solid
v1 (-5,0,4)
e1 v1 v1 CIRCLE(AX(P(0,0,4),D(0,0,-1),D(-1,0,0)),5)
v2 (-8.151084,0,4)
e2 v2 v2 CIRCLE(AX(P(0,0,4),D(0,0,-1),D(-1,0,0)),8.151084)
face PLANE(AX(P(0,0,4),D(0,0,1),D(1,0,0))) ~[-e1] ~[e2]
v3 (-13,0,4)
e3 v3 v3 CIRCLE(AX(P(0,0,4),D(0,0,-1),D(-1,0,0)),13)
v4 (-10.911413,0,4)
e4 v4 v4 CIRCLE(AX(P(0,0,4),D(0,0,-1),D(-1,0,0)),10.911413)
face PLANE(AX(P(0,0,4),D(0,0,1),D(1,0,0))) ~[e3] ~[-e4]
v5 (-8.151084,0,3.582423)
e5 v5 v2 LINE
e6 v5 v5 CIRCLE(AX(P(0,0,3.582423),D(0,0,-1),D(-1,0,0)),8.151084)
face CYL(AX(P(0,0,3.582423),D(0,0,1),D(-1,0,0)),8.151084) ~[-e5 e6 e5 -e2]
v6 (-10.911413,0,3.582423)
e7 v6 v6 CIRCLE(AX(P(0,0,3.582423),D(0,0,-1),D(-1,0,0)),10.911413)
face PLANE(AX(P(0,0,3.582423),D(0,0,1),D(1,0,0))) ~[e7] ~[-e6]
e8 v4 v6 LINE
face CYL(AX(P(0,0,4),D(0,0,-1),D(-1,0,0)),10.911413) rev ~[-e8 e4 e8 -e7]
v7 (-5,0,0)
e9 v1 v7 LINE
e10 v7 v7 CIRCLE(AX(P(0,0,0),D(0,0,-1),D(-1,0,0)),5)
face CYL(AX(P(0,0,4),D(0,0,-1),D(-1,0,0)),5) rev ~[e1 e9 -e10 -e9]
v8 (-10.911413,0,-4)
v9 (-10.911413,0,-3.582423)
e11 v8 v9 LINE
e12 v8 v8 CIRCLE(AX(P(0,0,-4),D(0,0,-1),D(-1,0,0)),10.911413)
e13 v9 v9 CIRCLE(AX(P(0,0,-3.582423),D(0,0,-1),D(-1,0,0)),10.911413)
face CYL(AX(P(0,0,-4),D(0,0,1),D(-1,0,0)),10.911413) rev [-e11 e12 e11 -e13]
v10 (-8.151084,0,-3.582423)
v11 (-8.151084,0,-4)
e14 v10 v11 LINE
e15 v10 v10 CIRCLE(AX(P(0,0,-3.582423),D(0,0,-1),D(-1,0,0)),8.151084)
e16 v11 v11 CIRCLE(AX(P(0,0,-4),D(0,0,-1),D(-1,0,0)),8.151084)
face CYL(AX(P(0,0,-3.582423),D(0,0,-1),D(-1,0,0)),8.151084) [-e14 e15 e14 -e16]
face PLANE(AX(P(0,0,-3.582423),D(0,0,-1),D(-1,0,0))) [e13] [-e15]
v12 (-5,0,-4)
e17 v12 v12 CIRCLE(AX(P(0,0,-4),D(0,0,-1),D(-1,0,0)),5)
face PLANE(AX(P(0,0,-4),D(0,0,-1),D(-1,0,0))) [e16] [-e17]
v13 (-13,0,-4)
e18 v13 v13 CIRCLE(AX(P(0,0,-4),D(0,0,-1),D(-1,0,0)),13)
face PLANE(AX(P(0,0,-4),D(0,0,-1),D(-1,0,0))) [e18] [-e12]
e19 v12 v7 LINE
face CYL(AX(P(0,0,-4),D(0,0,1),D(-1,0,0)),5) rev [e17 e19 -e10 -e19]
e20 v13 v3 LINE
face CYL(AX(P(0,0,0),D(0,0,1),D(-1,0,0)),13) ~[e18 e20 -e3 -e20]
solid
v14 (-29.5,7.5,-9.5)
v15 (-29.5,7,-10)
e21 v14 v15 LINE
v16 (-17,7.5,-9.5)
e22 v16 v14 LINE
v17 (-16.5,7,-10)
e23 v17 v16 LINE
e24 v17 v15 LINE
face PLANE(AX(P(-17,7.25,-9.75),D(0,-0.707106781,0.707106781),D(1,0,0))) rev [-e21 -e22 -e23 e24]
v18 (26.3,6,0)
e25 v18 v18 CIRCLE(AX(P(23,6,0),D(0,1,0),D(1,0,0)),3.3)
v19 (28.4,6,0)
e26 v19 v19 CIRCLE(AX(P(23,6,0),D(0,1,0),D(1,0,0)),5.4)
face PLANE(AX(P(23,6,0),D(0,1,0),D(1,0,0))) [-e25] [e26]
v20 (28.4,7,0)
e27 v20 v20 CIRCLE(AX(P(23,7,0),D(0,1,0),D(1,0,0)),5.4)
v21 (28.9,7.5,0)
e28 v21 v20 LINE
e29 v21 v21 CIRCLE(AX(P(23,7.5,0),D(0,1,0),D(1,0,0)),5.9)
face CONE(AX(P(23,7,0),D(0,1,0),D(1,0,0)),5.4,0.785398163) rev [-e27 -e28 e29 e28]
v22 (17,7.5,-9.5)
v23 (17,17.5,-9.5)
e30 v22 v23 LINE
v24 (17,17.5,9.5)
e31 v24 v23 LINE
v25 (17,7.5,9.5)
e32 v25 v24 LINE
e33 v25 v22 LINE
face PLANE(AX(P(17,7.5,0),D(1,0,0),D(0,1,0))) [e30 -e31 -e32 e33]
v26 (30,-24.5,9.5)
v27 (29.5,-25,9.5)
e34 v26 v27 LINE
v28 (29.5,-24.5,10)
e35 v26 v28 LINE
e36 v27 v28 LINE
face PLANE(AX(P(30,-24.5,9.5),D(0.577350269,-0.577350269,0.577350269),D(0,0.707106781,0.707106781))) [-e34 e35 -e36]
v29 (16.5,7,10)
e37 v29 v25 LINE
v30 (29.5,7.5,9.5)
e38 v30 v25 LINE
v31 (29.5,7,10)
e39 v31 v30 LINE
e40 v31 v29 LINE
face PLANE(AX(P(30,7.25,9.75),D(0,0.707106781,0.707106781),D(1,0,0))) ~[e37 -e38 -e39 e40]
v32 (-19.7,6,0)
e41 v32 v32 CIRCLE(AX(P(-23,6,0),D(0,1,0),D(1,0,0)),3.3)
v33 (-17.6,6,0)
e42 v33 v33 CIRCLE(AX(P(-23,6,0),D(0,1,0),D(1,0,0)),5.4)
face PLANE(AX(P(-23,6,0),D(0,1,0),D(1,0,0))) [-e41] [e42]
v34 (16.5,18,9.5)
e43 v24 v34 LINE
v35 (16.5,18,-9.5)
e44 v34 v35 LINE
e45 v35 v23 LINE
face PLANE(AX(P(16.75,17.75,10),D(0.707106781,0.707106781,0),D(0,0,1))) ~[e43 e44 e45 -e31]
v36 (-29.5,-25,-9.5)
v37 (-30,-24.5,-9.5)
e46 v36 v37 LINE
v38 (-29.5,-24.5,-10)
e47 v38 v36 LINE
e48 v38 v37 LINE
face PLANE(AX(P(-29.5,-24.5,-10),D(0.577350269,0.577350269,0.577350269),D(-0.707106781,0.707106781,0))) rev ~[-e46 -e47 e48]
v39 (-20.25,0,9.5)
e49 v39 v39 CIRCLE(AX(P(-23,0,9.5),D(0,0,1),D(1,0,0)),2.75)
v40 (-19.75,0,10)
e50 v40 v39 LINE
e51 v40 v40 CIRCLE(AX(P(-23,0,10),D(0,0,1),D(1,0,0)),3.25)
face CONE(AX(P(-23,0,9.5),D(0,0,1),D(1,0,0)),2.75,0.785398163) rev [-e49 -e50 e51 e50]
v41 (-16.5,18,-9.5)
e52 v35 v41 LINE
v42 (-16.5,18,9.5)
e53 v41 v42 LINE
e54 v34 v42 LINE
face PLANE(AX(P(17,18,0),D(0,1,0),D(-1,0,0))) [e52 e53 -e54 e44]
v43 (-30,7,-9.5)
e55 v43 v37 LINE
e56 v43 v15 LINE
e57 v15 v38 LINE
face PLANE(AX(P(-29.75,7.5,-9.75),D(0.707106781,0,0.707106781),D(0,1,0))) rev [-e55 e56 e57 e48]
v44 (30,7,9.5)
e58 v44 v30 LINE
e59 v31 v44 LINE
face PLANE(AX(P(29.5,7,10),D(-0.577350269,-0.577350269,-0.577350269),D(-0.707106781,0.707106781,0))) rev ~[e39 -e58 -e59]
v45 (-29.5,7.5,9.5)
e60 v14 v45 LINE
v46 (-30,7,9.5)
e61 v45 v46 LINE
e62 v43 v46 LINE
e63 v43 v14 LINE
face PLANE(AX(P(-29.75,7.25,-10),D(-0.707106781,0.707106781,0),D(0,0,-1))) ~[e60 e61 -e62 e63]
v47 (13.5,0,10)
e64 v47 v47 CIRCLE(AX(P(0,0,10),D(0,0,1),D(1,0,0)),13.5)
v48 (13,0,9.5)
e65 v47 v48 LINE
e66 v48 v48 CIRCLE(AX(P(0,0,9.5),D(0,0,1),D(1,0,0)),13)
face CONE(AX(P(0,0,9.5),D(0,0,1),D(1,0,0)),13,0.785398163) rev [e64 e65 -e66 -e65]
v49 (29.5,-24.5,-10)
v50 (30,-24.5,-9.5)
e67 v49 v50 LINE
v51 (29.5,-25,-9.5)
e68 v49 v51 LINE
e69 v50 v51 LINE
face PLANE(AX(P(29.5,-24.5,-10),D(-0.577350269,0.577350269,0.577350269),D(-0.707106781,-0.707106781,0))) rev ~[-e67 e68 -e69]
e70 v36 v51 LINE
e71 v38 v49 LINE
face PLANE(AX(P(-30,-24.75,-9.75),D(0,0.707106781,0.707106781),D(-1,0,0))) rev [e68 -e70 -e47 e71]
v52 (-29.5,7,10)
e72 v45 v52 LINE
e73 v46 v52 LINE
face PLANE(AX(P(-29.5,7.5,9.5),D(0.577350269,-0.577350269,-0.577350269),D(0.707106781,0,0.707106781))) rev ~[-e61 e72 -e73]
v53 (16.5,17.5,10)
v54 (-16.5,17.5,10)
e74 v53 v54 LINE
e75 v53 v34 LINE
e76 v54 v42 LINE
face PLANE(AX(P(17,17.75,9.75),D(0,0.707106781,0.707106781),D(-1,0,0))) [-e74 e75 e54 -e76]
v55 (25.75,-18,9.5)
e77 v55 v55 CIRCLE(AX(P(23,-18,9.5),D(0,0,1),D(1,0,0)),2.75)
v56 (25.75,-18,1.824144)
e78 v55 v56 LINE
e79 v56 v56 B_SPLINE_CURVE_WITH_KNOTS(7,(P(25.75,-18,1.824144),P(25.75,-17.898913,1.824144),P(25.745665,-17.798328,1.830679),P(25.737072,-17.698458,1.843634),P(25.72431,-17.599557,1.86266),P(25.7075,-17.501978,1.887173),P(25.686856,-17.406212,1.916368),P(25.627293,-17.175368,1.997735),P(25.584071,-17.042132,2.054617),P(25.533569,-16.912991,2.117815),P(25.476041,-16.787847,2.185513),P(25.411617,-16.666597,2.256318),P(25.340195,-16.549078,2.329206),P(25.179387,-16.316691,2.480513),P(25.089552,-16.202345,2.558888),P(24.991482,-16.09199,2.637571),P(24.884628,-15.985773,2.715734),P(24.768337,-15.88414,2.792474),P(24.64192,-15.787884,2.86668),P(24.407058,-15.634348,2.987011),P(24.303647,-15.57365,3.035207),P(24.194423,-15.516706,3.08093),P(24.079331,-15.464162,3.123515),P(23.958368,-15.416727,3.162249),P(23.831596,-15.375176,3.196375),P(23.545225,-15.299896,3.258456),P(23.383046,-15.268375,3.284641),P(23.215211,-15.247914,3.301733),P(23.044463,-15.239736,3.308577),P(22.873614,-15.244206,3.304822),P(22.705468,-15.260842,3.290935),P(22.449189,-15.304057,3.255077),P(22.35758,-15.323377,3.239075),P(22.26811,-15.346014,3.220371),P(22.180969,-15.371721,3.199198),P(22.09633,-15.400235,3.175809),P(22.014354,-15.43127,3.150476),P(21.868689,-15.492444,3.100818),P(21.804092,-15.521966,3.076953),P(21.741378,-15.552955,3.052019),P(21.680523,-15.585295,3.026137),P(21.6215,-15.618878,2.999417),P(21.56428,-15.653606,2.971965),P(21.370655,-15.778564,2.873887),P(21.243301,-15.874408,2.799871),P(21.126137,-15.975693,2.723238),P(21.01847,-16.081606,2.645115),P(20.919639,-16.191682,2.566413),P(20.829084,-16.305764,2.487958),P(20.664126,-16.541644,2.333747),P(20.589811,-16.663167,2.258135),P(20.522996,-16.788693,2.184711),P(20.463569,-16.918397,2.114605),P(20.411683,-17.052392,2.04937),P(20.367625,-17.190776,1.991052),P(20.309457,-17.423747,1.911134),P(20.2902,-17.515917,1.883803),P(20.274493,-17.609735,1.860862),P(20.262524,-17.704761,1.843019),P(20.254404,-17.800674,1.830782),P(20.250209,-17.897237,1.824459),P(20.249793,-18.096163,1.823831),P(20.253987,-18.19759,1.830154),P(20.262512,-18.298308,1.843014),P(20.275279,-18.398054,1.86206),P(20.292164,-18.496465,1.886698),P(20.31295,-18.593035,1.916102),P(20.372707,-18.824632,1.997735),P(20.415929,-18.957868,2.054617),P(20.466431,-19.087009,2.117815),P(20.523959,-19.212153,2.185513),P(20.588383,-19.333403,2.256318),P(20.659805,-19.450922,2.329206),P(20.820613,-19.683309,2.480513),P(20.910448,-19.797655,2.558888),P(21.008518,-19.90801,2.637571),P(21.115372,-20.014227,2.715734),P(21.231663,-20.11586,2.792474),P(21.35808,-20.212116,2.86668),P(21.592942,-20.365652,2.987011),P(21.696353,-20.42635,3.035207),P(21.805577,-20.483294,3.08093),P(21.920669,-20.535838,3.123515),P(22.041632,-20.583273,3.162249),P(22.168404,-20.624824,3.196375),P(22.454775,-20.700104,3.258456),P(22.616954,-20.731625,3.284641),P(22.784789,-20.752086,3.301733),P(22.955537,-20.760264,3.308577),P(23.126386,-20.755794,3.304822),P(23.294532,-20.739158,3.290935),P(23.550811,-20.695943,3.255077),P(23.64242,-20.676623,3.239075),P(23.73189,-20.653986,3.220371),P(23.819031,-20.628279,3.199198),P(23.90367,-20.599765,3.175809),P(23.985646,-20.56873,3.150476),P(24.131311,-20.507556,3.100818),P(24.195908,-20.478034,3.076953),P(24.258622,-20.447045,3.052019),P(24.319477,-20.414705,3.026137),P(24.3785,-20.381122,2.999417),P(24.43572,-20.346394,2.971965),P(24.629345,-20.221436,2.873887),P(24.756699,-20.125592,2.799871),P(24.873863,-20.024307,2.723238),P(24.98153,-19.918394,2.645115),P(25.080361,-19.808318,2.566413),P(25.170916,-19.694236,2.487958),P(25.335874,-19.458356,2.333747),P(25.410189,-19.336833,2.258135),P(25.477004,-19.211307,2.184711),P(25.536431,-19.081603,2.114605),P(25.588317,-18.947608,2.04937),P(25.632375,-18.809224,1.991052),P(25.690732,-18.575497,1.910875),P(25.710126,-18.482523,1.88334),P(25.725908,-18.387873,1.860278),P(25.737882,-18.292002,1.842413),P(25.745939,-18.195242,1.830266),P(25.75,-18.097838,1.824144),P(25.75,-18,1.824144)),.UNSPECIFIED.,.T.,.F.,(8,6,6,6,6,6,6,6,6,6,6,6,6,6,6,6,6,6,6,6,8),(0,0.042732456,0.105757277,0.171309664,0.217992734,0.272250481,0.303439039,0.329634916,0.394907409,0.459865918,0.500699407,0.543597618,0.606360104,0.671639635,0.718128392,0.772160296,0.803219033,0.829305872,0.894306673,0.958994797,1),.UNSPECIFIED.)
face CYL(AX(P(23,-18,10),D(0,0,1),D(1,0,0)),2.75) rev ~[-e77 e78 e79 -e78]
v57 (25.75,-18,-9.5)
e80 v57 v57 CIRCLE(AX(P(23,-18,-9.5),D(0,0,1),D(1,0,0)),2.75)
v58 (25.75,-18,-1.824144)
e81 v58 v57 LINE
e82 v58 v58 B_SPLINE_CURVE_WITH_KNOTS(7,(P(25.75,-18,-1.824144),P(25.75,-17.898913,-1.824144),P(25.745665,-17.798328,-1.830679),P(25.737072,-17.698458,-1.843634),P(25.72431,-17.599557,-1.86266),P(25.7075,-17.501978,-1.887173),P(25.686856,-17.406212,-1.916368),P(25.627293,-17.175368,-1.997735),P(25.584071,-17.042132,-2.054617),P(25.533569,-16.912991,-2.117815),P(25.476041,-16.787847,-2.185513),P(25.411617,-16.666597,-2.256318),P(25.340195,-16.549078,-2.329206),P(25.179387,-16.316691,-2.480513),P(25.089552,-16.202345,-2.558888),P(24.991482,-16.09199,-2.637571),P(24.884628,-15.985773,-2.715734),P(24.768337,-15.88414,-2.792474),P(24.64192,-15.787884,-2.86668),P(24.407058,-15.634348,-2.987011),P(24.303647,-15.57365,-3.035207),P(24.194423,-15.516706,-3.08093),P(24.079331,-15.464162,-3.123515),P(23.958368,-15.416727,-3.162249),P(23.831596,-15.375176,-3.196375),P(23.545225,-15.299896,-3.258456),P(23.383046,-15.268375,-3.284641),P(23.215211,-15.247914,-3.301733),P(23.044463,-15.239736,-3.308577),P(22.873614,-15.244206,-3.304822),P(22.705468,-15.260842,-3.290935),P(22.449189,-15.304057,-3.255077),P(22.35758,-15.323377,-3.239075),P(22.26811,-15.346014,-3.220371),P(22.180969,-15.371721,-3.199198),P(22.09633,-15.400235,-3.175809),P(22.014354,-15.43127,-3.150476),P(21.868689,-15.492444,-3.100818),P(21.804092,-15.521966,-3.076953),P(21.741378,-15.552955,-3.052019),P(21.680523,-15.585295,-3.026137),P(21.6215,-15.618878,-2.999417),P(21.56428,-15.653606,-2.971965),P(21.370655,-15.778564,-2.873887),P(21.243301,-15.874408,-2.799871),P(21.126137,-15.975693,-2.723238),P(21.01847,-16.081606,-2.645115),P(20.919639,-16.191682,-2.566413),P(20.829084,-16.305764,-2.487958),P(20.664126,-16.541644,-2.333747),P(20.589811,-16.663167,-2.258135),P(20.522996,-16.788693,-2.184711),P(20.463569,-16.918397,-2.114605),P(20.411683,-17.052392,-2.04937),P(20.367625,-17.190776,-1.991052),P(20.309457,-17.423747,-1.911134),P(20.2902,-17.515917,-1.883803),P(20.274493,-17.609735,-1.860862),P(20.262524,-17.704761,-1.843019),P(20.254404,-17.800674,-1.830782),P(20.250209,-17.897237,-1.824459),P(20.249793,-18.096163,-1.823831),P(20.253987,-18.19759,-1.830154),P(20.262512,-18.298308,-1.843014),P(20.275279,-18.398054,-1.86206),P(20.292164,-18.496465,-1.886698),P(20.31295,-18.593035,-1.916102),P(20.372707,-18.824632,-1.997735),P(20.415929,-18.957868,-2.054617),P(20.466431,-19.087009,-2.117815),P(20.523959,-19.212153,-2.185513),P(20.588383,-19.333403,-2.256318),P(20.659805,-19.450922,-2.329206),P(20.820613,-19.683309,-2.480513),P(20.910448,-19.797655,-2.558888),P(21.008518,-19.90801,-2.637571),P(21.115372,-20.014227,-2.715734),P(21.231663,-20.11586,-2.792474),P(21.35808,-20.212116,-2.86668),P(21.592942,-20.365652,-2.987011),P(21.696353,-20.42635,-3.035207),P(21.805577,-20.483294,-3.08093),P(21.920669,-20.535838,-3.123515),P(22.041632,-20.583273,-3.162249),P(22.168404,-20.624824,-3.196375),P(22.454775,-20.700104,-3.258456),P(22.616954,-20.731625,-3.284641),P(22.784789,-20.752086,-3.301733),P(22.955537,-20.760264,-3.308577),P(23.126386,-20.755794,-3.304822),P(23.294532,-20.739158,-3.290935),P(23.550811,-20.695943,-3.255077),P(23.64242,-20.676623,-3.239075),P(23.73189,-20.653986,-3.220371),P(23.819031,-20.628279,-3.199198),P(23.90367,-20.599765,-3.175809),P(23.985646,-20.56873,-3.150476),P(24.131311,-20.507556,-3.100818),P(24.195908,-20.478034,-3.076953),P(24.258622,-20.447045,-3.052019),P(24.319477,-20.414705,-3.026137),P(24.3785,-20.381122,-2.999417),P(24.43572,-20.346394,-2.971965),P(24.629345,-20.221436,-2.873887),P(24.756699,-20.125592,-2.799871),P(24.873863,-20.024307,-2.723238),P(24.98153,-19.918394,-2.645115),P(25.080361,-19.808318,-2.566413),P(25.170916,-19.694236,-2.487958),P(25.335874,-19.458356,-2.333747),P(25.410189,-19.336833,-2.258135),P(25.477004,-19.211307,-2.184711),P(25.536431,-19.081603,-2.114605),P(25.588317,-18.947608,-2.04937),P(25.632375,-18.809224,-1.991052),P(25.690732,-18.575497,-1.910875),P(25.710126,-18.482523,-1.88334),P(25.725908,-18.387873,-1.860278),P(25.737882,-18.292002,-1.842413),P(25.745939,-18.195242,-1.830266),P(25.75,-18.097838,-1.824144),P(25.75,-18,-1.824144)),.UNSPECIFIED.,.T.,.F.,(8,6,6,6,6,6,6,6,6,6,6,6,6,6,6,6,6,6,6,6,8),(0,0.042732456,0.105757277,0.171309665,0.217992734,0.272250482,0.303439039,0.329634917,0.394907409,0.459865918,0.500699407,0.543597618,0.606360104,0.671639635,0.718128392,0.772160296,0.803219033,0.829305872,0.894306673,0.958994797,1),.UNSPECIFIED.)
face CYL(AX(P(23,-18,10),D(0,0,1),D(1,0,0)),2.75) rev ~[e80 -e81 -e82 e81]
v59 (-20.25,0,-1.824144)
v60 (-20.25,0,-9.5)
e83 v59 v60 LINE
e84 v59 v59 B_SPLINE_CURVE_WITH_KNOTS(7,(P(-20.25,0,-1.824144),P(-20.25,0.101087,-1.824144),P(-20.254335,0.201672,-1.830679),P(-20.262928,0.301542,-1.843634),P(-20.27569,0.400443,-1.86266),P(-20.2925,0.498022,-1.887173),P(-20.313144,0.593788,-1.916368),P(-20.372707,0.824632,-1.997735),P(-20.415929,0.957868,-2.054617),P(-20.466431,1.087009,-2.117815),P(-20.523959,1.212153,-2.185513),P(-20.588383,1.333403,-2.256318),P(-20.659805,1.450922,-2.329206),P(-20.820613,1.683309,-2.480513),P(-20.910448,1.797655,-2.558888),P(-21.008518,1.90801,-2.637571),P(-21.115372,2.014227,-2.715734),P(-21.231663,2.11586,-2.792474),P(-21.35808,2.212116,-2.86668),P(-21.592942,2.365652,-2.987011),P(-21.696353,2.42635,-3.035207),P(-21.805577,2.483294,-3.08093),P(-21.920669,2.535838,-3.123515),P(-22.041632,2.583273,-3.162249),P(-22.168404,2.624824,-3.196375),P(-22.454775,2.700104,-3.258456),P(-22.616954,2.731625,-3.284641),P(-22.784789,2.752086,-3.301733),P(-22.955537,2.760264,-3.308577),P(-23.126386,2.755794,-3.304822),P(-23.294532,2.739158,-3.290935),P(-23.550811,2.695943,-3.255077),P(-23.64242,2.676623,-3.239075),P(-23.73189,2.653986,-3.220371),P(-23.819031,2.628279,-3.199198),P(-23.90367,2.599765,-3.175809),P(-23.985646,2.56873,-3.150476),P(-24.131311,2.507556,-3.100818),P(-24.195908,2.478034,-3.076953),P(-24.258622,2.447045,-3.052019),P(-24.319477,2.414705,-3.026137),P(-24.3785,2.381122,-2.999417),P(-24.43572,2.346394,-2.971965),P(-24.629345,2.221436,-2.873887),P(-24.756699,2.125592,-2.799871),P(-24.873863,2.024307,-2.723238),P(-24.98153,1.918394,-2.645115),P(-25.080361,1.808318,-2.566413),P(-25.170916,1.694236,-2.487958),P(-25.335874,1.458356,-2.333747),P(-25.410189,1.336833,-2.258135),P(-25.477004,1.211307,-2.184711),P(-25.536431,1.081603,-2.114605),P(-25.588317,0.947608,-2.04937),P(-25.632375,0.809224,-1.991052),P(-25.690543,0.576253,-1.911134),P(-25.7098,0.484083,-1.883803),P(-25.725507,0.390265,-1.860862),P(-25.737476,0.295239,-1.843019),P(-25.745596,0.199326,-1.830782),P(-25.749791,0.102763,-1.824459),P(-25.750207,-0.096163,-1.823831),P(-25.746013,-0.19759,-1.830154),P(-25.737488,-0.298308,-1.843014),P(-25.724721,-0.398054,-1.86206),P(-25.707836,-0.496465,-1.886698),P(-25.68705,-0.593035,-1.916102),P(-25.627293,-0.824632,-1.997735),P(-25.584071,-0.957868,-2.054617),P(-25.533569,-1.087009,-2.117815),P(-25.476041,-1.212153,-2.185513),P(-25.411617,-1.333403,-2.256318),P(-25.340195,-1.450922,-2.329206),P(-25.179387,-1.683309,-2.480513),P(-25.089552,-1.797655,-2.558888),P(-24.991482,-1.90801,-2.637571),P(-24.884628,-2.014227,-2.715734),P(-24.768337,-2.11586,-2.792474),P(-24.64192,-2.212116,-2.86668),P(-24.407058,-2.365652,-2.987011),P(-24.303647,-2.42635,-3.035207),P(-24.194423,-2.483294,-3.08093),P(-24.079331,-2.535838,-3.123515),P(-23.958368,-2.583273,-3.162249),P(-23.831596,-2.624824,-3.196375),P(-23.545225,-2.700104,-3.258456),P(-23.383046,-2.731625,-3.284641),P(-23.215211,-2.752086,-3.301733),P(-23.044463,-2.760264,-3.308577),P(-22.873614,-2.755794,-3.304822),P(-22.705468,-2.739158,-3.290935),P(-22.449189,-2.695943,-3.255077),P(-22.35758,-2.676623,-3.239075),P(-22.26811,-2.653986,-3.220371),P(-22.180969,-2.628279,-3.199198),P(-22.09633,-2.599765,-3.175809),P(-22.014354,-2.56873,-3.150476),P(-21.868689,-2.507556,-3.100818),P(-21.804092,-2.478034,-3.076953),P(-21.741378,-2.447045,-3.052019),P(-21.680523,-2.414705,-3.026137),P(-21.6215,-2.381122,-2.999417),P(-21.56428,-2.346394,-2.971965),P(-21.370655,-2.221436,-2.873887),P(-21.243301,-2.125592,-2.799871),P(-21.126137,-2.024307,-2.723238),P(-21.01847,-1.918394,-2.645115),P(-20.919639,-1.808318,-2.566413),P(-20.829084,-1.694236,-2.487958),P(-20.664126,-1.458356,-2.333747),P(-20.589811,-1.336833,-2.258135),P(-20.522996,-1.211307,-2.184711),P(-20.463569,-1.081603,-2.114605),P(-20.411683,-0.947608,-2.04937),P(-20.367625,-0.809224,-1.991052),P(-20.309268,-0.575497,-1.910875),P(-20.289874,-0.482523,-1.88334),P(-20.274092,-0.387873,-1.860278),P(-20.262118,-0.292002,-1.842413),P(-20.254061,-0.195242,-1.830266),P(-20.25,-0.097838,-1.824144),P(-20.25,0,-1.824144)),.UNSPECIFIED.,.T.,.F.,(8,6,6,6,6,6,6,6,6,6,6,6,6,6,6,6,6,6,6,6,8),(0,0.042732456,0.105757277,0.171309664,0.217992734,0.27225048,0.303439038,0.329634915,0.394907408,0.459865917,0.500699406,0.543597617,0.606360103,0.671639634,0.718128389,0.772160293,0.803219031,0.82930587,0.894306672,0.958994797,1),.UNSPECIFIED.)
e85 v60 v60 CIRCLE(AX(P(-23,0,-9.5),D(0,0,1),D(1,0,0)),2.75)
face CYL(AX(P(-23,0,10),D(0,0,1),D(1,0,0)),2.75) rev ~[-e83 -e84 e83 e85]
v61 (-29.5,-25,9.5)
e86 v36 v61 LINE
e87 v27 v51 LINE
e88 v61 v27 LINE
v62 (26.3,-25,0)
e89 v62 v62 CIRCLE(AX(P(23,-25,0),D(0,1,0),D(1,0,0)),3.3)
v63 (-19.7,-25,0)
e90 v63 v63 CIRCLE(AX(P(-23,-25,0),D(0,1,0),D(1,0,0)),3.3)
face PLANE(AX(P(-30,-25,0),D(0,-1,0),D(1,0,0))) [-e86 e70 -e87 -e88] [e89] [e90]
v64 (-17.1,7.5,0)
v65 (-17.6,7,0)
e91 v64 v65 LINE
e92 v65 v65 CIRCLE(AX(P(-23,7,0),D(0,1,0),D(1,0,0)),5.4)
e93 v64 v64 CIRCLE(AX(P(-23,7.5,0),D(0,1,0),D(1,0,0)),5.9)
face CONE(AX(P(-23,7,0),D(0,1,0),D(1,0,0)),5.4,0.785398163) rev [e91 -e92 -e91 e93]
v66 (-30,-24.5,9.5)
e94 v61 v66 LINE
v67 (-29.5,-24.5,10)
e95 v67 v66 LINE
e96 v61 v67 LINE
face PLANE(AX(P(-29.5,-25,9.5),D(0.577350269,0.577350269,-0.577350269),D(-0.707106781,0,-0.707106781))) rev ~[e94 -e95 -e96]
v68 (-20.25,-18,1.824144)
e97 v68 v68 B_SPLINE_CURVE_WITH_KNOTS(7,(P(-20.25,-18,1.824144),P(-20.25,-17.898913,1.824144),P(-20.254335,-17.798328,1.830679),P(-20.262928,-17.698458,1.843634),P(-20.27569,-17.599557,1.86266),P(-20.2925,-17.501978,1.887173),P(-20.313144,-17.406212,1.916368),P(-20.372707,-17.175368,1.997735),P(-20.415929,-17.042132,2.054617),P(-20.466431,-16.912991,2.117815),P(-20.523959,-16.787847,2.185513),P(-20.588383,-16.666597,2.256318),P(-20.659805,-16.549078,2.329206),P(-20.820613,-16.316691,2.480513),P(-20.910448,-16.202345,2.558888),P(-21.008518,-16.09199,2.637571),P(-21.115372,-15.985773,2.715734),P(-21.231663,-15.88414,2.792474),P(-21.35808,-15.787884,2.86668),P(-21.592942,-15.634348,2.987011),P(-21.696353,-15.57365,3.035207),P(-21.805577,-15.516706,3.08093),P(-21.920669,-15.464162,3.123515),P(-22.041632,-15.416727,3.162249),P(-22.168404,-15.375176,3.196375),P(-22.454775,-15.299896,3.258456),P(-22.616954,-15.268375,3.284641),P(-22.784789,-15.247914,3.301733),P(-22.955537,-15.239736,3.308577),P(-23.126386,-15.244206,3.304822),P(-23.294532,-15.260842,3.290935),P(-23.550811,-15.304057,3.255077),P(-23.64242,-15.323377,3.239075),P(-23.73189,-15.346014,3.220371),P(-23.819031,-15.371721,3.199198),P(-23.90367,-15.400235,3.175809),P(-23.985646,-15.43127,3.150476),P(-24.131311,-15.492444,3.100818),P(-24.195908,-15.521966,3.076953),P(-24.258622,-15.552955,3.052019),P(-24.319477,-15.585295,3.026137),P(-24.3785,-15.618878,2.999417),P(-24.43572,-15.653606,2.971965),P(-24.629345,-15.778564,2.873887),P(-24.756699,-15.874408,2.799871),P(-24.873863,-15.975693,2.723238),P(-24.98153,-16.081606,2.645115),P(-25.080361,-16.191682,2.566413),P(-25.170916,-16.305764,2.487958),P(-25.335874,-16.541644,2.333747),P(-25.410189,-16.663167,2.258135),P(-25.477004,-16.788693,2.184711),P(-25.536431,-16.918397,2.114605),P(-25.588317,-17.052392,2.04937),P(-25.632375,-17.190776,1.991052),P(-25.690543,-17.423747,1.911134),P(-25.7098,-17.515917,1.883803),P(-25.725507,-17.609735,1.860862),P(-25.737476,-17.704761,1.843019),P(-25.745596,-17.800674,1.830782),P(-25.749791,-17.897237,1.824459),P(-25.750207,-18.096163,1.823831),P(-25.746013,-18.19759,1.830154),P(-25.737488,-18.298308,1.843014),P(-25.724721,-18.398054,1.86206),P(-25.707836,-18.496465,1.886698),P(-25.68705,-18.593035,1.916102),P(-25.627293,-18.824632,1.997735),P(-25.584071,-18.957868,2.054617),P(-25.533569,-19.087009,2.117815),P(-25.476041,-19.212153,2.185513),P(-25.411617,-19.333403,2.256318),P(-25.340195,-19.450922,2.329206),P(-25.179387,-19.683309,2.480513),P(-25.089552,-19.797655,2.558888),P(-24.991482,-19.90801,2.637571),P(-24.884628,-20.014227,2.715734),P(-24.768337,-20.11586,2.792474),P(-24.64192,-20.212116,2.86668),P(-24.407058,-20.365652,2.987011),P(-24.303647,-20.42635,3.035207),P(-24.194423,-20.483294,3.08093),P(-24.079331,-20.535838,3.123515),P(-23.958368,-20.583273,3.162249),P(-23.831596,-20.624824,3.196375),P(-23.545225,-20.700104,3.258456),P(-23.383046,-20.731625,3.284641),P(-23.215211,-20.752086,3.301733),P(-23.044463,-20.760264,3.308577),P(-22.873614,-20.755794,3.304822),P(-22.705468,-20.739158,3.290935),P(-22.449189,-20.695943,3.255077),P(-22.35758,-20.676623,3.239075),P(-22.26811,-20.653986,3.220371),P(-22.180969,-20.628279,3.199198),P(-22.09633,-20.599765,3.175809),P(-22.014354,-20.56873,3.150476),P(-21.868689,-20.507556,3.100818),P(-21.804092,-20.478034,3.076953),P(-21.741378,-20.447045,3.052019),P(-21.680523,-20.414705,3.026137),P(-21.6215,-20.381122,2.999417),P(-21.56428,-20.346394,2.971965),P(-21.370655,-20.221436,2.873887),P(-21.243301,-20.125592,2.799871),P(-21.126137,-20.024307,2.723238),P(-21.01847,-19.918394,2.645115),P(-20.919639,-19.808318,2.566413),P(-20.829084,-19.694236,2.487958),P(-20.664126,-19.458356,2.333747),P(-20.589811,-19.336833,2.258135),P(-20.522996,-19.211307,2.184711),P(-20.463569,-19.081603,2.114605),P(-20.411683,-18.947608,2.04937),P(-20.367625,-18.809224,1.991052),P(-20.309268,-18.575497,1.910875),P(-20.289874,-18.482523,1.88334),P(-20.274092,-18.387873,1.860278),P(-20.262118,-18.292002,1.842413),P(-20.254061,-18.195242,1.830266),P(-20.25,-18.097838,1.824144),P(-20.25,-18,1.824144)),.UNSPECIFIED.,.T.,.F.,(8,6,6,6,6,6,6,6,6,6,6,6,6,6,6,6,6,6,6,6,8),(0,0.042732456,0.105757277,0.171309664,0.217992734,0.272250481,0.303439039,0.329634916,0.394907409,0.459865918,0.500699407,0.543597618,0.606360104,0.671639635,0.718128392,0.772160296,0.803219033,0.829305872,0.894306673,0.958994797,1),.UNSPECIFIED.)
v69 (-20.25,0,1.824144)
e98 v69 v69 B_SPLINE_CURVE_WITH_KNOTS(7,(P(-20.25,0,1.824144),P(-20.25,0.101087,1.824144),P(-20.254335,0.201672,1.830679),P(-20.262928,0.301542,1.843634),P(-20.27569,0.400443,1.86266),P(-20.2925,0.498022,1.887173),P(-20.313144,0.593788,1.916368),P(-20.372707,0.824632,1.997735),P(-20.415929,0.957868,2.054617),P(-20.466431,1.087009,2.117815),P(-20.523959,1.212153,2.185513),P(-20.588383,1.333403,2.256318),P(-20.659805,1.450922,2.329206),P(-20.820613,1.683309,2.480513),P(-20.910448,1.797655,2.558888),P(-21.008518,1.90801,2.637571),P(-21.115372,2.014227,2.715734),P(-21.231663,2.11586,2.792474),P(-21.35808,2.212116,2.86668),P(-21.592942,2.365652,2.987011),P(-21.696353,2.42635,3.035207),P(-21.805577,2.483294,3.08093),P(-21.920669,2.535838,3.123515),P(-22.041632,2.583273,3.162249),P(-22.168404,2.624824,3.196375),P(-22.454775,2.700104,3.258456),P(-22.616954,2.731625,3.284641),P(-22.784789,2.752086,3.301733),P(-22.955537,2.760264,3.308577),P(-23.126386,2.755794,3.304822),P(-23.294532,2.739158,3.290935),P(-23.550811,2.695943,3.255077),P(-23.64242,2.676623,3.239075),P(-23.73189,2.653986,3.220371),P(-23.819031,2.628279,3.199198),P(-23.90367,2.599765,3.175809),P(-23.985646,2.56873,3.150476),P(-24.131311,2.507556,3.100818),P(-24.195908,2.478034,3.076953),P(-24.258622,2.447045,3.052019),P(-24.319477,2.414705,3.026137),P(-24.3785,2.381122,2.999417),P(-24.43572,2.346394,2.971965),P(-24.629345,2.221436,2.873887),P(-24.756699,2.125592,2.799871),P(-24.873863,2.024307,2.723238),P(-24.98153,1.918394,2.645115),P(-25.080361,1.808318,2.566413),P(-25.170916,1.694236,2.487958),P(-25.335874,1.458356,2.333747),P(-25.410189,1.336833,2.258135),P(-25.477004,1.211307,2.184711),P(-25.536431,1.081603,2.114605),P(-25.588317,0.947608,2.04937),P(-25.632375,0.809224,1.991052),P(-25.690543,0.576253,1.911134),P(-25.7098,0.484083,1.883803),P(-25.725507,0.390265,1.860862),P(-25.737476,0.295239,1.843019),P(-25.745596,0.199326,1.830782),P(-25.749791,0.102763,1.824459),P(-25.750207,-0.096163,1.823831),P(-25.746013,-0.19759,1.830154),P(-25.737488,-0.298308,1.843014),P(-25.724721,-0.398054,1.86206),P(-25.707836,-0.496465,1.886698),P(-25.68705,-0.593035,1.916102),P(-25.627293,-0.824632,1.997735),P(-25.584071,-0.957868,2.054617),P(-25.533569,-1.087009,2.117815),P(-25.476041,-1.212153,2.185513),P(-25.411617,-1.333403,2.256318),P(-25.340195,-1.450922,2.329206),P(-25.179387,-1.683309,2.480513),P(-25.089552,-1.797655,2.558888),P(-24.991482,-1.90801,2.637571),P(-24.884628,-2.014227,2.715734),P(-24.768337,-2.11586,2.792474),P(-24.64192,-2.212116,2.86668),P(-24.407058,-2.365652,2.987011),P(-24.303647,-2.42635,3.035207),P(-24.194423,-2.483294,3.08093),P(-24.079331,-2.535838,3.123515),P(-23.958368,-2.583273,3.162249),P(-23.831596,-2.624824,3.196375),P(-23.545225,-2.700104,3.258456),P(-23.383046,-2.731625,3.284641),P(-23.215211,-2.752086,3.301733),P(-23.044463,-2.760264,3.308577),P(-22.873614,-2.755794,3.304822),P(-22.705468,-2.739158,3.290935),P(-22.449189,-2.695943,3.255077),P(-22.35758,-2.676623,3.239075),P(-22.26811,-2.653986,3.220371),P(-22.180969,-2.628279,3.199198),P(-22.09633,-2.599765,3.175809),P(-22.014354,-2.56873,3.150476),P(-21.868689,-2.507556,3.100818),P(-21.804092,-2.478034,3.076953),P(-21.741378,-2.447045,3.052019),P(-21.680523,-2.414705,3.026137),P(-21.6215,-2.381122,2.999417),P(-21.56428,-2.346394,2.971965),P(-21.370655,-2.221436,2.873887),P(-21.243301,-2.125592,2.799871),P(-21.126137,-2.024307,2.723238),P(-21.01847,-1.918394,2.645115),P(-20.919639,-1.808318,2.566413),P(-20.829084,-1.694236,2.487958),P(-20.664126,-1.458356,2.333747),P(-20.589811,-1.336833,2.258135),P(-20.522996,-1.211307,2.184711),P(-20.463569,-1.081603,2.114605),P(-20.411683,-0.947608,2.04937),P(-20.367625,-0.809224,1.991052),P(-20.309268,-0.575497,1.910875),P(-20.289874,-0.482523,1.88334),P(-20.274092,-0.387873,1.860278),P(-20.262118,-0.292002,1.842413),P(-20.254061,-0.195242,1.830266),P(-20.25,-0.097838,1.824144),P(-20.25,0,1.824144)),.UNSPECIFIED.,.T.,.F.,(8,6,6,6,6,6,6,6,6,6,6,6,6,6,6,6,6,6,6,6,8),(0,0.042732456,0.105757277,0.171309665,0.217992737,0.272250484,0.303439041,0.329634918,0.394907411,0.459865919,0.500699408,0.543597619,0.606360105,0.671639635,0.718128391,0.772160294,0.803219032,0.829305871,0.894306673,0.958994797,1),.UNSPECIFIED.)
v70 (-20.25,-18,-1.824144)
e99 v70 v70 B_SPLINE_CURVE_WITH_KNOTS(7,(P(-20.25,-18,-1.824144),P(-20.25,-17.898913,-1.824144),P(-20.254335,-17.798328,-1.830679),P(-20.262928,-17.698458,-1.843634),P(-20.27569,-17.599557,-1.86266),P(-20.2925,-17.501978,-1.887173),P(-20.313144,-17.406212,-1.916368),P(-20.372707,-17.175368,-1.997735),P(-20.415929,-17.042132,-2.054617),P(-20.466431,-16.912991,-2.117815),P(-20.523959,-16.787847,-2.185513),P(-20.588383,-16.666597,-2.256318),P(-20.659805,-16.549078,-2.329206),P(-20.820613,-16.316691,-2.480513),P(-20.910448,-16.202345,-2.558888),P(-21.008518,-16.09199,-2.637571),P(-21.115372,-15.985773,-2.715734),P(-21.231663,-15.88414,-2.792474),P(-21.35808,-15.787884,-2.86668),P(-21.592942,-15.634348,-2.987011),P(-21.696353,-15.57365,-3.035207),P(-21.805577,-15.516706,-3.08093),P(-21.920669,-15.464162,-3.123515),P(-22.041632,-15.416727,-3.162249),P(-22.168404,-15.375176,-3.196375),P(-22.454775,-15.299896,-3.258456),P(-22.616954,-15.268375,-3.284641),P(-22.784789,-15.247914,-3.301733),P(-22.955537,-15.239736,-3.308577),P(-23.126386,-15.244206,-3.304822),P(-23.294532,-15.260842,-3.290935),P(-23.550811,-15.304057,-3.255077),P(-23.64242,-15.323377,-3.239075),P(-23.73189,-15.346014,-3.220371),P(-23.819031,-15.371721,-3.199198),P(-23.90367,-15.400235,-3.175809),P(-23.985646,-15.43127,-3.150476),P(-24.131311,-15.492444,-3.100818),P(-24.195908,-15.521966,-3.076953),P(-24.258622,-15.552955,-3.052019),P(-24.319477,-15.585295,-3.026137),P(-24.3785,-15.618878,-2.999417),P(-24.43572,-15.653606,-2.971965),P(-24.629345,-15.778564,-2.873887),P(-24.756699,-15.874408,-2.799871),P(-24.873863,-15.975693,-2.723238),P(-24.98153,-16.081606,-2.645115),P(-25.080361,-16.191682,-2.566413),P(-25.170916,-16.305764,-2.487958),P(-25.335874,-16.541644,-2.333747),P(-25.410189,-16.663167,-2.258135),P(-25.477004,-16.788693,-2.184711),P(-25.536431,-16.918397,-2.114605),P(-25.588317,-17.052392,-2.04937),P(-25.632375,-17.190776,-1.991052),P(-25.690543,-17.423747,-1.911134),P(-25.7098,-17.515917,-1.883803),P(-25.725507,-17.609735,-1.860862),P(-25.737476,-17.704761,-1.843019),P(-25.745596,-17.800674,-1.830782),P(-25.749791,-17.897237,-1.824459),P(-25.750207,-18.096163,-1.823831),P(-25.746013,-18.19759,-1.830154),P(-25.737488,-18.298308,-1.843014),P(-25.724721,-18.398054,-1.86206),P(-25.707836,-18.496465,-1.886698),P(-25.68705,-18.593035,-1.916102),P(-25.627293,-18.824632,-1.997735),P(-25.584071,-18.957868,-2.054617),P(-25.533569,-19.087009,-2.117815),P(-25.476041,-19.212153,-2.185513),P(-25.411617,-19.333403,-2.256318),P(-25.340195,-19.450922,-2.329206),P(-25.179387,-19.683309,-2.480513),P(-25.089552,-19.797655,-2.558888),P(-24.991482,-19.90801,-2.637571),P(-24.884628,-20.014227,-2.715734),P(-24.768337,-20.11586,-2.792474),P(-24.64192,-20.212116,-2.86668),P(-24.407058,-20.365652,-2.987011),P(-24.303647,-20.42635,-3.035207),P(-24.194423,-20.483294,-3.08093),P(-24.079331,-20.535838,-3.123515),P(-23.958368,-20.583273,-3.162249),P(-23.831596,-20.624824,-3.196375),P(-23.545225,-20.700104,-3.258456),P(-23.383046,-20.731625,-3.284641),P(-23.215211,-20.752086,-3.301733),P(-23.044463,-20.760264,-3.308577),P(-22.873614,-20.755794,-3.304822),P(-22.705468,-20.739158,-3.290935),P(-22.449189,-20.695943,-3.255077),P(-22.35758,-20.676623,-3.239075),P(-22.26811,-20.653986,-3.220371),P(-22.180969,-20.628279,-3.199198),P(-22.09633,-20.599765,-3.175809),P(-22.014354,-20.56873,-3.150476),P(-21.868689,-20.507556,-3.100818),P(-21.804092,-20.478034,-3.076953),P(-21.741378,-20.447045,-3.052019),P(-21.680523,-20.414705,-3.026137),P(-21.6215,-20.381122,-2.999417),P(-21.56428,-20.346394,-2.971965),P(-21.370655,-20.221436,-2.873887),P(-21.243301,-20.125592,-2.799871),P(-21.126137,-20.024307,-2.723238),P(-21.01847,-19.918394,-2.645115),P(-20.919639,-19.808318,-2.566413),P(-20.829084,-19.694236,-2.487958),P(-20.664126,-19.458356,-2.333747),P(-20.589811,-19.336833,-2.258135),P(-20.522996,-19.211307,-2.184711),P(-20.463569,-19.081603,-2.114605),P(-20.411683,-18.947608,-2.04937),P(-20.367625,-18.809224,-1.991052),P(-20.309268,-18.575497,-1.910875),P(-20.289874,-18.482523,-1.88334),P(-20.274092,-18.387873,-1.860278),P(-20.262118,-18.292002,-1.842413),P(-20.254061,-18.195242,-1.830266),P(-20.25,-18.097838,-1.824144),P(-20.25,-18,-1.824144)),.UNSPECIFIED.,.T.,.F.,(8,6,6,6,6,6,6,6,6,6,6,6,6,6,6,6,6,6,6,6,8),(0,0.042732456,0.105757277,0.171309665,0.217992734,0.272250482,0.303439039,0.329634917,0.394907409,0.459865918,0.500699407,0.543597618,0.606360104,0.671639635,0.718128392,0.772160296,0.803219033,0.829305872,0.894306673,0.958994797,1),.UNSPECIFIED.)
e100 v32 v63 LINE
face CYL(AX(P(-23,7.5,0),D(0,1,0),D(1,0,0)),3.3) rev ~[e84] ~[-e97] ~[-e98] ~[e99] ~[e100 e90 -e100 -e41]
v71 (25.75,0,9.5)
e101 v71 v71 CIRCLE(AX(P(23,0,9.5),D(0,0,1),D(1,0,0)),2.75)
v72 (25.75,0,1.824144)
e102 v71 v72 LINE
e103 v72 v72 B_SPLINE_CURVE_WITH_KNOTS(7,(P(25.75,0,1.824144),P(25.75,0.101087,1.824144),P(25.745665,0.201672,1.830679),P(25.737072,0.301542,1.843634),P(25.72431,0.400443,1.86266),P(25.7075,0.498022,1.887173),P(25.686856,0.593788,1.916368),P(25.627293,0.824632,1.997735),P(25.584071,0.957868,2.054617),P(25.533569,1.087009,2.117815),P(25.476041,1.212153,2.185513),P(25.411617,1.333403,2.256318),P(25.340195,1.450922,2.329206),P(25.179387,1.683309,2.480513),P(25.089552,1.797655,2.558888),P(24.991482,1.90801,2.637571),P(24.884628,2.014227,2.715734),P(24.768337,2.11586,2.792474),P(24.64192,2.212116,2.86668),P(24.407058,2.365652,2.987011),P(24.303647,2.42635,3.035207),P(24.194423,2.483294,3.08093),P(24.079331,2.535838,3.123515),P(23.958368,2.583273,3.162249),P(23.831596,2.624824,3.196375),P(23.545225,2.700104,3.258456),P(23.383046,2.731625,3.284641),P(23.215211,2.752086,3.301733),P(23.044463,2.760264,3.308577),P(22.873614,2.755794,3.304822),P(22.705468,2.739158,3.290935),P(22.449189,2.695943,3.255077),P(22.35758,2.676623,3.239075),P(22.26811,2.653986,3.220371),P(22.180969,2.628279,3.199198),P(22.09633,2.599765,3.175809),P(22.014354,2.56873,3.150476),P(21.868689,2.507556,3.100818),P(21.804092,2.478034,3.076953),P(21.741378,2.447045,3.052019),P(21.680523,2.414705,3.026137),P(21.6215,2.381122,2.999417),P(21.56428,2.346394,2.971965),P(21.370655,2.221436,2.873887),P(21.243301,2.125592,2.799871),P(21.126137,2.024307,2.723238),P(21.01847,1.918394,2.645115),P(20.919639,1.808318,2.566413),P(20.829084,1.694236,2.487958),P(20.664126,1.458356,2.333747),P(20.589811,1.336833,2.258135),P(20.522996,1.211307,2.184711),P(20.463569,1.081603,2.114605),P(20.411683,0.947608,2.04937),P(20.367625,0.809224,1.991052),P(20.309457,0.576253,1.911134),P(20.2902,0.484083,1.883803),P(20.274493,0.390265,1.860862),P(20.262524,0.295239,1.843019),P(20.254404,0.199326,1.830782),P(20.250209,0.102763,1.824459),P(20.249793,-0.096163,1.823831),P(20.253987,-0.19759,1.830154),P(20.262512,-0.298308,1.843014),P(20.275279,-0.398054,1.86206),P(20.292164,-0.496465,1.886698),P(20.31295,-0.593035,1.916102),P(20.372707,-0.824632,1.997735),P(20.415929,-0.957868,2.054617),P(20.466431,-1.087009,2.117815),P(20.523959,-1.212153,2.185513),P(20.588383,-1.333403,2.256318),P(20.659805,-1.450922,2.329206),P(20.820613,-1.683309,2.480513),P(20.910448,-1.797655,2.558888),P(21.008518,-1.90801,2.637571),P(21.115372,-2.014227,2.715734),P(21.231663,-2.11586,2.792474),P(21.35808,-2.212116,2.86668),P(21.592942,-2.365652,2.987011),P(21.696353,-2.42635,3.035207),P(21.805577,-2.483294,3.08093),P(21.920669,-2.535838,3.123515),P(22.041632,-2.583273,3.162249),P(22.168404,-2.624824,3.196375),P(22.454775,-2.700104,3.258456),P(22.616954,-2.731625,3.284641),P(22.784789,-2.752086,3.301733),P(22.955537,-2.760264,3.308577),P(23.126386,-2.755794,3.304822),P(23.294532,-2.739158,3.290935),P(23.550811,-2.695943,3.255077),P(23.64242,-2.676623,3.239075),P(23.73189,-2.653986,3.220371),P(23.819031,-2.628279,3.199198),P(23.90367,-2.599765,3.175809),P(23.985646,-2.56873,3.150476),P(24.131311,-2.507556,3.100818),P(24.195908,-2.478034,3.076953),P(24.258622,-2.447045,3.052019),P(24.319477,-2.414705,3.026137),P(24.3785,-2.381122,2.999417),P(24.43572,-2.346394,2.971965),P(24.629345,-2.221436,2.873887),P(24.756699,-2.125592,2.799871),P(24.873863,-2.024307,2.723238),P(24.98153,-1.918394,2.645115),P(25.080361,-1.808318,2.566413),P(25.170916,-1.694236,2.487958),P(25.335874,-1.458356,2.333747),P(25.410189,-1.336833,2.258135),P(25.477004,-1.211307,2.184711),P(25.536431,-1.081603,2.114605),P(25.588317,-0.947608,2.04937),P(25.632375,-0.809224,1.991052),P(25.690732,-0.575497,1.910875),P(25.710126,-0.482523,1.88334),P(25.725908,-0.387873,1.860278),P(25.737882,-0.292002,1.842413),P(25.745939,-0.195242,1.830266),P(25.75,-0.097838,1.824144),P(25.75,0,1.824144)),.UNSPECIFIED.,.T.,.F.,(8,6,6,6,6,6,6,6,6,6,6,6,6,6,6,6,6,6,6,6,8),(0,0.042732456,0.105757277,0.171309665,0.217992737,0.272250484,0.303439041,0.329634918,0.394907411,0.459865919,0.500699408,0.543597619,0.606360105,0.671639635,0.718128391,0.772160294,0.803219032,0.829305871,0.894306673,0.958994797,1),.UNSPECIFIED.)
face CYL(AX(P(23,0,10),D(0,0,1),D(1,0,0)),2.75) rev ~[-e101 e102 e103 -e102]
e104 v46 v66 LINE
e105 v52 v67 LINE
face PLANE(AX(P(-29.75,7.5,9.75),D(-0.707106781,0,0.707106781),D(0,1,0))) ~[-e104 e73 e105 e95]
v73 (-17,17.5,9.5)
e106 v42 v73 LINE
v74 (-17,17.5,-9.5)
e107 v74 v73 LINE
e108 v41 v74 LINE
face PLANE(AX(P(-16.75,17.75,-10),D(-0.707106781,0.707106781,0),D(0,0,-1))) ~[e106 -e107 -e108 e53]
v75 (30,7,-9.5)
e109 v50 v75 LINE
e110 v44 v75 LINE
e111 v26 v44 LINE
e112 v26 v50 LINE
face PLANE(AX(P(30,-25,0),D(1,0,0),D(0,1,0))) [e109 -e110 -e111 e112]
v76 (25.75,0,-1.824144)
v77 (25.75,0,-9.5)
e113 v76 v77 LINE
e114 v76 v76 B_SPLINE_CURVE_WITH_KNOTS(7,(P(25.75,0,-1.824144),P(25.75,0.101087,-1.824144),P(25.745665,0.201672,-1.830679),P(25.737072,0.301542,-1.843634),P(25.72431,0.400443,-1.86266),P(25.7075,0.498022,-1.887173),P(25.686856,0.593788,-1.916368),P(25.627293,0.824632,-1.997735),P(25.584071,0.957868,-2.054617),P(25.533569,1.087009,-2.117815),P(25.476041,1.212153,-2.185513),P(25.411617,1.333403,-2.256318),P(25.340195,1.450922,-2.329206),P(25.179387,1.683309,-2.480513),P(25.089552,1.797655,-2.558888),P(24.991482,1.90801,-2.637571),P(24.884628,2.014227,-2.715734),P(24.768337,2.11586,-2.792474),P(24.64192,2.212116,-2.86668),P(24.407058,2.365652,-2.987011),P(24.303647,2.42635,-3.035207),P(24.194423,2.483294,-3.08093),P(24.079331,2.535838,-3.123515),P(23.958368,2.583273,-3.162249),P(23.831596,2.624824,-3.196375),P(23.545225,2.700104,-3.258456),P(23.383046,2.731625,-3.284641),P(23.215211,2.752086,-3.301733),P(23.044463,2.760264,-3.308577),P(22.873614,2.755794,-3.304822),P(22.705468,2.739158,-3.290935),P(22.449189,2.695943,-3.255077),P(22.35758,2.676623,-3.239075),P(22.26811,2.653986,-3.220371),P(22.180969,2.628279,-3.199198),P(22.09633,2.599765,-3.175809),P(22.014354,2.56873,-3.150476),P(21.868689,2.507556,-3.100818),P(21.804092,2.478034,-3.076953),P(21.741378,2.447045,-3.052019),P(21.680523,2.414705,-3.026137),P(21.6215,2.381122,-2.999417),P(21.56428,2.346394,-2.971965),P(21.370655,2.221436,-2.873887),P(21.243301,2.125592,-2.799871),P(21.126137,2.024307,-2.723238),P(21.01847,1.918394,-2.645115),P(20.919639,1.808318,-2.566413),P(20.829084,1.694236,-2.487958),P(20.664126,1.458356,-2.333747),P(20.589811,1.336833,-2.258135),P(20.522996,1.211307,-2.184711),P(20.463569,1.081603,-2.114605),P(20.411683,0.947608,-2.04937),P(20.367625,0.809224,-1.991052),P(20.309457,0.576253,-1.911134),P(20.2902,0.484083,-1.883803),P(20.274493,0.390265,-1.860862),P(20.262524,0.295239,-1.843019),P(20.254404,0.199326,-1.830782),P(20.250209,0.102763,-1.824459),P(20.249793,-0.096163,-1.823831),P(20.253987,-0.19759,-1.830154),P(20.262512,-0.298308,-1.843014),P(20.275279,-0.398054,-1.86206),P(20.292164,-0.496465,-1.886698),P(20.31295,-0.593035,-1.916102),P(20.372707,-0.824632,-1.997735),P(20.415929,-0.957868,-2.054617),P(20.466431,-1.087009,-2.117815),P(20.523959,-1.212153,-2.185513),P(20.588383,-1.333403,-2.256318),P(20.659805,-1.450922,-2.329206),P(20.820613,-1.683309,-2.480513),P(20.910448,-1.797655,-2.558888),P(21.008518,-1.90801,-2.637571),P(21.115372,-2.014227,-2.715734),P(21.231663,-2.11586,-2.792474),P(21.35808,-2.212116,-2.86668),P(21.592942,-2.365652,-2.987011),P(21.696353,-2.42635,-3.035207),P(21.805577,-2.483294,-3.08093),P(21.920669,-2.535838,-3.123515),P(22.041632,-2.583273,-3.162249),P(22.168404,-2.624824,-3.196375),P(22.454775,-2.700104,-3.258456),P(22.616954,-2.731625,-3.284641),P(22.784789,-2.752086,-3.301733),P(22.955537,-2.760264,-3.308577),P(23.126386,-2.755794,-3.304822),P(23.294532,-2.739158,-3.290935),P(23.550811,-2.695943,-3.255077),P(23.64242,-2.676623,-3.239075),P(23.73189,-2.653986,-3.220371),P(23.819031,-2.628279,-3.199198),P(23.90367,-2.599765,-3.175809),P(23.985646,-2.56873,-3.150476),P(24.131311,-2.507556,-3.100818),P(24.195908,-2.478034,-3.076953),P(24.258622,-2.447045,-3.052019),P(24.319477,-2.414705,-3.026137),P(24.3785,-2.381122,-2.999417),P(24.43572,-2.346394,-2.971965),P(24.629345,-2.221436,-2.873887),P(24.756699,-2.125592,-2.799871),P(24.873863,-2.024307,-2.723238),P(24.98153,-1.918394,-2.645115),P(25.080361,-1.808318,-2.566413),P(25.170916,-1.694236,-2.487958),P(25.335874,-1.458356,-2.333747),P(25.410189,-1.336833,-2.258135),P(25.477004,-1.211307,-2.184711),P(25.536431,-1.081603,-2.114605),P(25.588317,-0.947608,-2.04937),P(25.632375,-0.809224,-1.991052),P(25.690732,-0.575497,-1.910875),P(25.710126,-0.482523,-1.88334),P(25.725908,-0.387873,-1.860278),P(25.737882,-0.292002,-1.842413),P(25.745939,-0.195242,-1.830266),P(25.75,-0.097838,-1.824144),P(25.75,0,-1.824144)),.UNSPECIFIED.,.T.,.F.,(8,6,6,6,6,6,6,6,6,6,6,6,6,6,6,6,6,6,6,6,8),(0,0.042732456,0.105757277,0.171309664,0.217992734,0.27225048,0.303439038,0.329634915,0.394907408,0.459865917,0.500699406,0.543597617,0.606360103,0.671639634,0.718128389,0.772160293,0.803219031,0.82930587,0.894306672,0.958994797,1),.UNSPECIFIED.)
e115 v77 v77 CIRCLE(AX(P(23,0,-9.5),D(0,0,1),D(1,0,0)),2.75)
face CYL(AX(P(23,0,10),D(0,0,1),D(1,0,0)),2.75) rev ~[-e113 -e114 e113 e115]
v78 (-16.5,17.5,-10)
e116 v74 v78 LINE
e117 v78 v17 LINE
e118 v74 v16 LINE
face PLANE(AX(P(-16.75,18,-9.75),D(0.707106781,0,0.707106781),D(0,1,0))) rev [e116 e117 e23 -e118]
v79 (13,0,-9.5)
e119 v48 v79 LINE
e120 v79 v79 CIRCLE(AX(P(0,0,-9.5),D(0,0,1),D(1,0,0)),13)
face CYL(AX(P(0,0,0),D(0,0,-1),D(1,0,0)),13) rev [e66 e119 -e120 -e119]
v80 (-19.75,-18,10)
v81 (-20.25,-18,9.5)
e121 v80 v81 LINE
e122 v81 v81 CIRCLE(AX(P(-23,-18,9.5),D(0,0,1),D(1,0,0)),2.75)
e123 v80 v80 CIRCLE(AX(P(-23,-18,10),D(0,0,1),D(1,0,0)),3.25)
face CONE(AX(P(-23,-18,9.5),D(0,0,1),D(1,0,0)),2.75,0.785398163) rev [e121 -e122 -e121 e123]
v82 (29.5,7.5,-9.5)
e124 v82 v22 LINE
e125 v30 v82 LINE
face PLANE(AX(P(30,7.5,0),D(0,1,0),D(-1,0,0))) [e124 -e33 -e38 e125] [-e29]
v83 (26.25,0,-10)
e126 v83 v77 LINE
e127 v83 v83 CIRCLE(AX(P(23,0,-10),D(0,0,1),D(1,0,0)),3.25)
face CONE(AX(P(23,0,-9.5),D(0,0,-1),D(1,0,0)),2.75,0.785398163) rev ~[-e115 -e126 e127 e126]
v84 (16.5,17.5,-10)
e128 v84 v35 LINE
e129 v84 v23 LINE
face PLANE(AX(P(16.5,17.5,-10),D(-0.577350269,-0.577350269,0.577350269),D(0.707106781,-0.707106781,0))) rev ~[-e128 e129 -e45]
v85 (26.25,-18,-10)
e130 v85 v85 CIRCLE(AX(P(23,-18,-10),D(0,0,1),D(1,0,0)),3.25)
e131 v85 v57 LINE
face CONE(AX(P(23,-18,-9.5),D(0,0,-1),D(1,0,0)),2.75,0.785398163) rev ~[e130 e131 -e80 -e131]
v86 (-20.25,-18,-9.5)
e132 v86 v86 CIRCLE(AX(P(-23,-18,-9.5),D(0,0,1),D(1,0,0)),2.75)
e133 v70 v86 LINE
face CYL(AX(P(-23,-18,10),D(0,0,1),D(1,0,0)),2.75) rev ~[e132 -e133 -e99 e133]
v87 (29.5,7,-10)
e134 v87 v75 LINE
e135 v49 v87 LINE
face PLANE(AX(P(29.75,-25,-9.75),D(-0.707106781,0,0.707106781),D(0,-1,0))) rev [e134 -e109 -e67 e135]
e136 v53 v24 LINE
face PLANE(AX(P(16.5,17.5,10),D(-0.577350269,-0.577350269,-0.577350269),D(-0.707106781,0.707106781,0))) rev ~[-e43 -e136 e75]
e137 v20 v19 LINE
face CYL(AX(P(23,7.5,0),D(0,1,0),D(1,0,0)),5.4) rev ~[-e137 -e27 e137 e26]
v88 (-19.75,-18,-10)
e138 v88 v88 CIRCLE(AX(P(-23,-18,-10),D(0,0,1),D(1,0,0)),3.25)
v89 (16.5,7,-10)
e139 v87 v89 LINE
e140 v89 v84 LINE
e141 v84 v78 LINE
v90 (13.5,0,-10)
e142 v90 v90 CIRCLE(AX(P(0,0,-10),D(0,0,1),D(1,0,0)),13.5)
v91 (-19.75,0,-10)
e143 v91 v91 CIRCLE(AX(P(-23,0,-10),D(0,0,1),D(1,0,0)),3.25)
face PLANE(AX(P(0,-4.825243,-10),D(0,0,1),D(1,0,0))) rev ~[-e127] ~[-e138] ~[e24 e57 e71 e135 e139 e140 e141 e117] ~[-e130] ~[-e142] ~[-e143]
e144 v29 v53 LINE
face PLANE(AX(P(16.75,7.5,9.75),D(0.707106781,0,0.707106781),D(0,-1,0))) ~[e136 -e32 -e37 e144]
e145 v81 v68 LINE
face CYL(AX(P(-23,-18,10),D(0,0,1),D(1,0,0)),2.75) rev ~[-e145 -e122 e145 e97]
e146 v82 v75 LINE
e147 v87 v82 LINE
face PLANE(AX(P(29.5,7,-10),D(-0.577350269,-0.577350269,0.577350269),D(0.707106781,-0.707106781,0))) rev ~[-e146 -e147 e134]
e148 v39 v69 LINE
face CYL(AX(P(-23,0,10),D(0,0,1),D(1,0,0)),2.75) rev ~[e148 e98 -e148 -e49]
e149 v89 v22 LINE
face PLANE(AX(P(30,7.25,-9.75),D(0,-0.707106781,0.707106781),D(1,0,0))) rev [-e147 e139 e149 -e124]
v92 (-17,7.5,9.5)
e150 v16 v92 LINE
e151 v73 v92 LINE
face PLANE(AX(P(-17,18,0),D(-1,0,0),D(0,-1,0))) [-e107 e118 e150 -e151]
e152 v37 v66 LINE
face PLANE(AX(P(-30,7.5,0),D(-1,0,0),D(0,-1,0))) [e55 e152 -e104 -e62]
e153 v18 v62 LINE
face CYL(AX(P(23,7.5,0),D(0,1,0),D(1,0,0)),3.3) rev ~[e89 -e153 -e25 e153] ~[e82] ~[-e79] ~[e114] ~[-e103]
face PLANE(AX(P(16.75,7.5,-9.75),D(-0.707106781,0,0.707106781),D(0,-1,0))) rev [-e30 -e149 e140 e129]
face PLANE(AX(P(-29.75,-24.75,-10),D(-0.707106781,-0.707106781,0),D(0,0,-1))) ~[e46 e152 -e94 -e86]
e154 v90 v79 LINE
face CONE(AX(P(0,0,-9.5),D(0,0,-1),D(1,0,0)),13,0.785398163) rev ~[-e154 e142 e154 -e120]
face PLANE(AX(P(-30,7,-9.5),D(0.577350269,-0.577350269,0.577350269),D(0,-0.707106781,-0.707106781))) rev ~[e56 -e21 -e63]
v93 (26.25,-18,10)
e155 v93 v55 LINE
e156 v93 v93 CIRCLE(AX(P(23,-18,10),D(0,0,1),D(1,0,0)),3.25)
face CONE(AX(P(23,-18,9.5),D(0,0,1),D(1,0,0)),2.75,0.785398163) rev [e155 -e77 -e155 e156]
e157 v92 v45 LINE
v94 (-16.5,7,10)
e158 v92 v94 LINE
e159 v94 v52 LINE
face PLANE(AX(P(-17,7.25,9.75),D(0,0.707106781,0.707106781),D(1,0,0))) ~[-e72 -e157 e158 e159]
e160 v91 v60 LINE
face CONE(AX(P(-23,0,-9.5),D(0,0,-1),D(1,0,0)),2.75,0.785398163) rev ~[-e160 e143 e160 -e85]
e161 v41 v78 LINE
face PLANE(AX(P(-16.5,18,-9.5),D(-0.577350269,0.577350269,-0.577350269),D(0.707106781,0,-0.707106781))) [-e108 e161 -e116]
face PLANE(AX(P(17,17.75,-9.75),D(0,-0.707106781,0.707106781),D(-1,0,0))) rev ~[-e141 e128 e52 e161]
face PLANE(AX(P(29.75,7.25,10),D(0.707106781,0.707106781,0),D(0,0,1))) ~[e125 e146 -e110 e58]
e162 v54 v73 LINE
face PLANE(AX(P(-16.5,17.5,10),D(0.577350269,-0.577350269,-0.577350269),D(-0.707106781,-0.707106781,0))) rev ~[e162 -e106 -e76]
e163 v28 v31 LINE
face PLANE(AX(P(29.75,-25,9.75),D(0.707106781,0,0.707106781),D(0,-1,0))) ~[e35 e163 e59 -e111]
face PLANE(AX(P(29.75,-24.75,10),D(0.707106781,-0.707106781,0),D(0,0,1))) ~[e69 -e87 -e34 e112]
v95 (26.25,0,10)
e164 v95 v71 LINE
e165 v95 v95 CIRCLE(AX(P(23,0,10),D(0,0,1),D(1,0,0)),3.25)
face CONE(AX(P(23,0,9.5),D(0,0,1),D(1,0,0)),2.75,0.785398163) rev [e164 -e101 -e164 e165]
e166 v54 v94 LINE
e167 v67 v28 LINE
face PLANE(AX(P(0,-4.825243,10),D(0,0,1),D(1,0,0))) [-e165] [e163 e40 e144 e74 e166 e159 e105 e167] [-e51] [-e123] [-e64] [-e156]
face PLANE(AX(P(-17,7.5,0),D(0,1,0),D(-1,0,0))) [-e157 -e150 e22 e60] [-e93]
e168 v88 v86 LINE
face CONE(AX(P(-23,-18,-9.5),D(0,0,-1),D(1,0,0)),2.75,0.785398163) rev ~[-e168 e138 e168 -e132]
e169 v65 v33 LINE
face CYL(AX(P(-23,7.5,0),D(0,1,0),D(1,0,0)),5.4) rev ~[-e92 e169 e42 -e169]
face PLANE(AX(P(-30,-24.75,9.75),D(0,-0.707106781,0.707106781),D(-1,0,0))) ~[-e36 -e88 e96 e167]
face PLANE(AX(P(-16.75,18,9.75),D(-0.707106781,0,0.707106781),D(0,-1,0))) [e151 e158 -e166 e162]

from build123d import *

# Parameters (mm, degrees)
SKETCH1_R           = 13
BOSS_EXTRUDE1_DEPTH = 10
SKETCH2_R           = 2.75
CUT_EXTRUDE1_DEPTH  = 21
SKETCH3_R           = 3.3
CUT_EXTRUDE2_DEPTH  = 33.5
SKETCH4_R           = 5.4
CUT_EXTRUDE3_DEPTH  = 1.5
CHAMFER1_SIZE       = 0.5


with BuildPart() as part:
    # Sketch1 → Boss-Extrude1 (new body, symmetric)
    with BuildSketch(Plane.XY):
        Polygon((17, 18), (-17, 18), (-17, 7.5), (-30, 7.5), (-30, -25), (30, -25), (30, 7.5), (17, 7.5), align=None)
        Circle(SKETCH1_R, mode=Mode.SUBTRACT)
    extrude(amount=BOSS_EXTRUDE1_DEPTH, both=True)

    # Sketch2 → Cut-Extrude1 (cut, through all)
    with BuildSketch(Plane.XY.offset(10)):
        with Locations((-23, 0)):
            Circle(SKETCH2_R)
        with Locations((-23, -18)):
            Circle(SKETCH2_R)
        with Locations((23, -18)):
            Circle(SKETCH2_R)
        with Locations((23, 0)):
            Circle(SKETCH2_R)
    extrude(amount=-CUT_EXTRUDE1_DEPTH, mode=Mode.SUBTRACT)

    # Sketch3 → Cut-Extrude2 (cut, through all)
    with BuildSketch(Plane(origin=(0, 7.5, 0), x_dir=(1, 0, 0), z_dir=(0, 1, 0))):
        with Locations((-23, 0)):
            Circle(SKETCH3_R)
        with Locations((23, 0)):
            Circle(SKETCH3_R)
    extrude(amount=-CUT_EXTRUDE2_DEPTH, mode=Mode.SUBTRACT)

    # Sketch4 → Cut-Extrude3 (cut)
    with BuildSketch(Plane(origin=(0, 7.5, 0), x_dir=(1, 0, 0), z_dir=(0, 1, 0))):
        with Locations((-23, 0)):
            Circle(SKETCH4_R)
        with Locations((23, 0)):
            Circle(SKETCH4_R)
    extrude(amount=-CUT_EXTRUDE3_DEPTH, mode=Mode.SUBTRACT)

    # Chamfer1
    chamfer1_edges = [part.edges().sort_by_distance(p)[0] for p in [
        (-30, -8.75, 10),
        (-23.5, 7.5, -10),
        (-17, 12.75, -10),
        (0, -25, 10),
        (-17, 18, 0),
        (17, 18, 0),
        (30, 7.5, 0),
        (30, -25, 0),
        (-30, -25, 0),
        (-30, 7.5, 0),
        (30, -8.75, 10),
        (23.5, 7.5, 10),
        (-13, 0, -10),
        (-13, 0, 10),
        (17, 12.75, 10),
        (0, 18, 10),
        (-25.75, 0, -10),
        (-25.75, 0, 10),
        (-25.75, -18, -10),
        (-25.75, -18, 10),
        (20.25, -18, -10),
        (20.25, -18, 10),
        (20.25, 0, -10),
        (20.25, 0, 10),
        (-17, 12.75, 10),
        (-28.4, 7.5, 0),
        (-23.5, 7.5, 10),
        (17.6, 7.5, 0),
        (0, 18, -10),
        (17, 12.75, -10),
        (23.5, 7.5, -10),
        (30, -8.75, -10),
        (0, -25, -10),
        (-30, -8.75, -10),
    ]]
    chamfer(chamfer1_edges, length=CHAMFER1_SIZE)


with BuildPart() as body_2:
    # Sketch5 → Revolve1 (revolve)
    with BuildSketch(Plane(origin=(0, 0, 0), x_dir=(1, 0, 0), z_dir=(0, 1, 0))):
        Polygon((-13, 4), (-10.911412894, 4), (-10.911412894, 3.582423173), (-8.151084393, 3.582423173), (-8.151084393, 4), (-5, 4), (-5, 0), (-13, 0), align=None)
    revolve(axis=Axis((0, 0, 0), (0, 0, -1)))

    # Mirror2: body 2 across plane


with BuildPart() as body_2_1:
    add(body_2.part)
    add(body_2.part.mirror(Plane(origin=(-13, 0, 0), x_dir=(1, 0, 0), z_dir=(0, 0, -1))))


solid = Compound([part.part, body_2_1.part])
